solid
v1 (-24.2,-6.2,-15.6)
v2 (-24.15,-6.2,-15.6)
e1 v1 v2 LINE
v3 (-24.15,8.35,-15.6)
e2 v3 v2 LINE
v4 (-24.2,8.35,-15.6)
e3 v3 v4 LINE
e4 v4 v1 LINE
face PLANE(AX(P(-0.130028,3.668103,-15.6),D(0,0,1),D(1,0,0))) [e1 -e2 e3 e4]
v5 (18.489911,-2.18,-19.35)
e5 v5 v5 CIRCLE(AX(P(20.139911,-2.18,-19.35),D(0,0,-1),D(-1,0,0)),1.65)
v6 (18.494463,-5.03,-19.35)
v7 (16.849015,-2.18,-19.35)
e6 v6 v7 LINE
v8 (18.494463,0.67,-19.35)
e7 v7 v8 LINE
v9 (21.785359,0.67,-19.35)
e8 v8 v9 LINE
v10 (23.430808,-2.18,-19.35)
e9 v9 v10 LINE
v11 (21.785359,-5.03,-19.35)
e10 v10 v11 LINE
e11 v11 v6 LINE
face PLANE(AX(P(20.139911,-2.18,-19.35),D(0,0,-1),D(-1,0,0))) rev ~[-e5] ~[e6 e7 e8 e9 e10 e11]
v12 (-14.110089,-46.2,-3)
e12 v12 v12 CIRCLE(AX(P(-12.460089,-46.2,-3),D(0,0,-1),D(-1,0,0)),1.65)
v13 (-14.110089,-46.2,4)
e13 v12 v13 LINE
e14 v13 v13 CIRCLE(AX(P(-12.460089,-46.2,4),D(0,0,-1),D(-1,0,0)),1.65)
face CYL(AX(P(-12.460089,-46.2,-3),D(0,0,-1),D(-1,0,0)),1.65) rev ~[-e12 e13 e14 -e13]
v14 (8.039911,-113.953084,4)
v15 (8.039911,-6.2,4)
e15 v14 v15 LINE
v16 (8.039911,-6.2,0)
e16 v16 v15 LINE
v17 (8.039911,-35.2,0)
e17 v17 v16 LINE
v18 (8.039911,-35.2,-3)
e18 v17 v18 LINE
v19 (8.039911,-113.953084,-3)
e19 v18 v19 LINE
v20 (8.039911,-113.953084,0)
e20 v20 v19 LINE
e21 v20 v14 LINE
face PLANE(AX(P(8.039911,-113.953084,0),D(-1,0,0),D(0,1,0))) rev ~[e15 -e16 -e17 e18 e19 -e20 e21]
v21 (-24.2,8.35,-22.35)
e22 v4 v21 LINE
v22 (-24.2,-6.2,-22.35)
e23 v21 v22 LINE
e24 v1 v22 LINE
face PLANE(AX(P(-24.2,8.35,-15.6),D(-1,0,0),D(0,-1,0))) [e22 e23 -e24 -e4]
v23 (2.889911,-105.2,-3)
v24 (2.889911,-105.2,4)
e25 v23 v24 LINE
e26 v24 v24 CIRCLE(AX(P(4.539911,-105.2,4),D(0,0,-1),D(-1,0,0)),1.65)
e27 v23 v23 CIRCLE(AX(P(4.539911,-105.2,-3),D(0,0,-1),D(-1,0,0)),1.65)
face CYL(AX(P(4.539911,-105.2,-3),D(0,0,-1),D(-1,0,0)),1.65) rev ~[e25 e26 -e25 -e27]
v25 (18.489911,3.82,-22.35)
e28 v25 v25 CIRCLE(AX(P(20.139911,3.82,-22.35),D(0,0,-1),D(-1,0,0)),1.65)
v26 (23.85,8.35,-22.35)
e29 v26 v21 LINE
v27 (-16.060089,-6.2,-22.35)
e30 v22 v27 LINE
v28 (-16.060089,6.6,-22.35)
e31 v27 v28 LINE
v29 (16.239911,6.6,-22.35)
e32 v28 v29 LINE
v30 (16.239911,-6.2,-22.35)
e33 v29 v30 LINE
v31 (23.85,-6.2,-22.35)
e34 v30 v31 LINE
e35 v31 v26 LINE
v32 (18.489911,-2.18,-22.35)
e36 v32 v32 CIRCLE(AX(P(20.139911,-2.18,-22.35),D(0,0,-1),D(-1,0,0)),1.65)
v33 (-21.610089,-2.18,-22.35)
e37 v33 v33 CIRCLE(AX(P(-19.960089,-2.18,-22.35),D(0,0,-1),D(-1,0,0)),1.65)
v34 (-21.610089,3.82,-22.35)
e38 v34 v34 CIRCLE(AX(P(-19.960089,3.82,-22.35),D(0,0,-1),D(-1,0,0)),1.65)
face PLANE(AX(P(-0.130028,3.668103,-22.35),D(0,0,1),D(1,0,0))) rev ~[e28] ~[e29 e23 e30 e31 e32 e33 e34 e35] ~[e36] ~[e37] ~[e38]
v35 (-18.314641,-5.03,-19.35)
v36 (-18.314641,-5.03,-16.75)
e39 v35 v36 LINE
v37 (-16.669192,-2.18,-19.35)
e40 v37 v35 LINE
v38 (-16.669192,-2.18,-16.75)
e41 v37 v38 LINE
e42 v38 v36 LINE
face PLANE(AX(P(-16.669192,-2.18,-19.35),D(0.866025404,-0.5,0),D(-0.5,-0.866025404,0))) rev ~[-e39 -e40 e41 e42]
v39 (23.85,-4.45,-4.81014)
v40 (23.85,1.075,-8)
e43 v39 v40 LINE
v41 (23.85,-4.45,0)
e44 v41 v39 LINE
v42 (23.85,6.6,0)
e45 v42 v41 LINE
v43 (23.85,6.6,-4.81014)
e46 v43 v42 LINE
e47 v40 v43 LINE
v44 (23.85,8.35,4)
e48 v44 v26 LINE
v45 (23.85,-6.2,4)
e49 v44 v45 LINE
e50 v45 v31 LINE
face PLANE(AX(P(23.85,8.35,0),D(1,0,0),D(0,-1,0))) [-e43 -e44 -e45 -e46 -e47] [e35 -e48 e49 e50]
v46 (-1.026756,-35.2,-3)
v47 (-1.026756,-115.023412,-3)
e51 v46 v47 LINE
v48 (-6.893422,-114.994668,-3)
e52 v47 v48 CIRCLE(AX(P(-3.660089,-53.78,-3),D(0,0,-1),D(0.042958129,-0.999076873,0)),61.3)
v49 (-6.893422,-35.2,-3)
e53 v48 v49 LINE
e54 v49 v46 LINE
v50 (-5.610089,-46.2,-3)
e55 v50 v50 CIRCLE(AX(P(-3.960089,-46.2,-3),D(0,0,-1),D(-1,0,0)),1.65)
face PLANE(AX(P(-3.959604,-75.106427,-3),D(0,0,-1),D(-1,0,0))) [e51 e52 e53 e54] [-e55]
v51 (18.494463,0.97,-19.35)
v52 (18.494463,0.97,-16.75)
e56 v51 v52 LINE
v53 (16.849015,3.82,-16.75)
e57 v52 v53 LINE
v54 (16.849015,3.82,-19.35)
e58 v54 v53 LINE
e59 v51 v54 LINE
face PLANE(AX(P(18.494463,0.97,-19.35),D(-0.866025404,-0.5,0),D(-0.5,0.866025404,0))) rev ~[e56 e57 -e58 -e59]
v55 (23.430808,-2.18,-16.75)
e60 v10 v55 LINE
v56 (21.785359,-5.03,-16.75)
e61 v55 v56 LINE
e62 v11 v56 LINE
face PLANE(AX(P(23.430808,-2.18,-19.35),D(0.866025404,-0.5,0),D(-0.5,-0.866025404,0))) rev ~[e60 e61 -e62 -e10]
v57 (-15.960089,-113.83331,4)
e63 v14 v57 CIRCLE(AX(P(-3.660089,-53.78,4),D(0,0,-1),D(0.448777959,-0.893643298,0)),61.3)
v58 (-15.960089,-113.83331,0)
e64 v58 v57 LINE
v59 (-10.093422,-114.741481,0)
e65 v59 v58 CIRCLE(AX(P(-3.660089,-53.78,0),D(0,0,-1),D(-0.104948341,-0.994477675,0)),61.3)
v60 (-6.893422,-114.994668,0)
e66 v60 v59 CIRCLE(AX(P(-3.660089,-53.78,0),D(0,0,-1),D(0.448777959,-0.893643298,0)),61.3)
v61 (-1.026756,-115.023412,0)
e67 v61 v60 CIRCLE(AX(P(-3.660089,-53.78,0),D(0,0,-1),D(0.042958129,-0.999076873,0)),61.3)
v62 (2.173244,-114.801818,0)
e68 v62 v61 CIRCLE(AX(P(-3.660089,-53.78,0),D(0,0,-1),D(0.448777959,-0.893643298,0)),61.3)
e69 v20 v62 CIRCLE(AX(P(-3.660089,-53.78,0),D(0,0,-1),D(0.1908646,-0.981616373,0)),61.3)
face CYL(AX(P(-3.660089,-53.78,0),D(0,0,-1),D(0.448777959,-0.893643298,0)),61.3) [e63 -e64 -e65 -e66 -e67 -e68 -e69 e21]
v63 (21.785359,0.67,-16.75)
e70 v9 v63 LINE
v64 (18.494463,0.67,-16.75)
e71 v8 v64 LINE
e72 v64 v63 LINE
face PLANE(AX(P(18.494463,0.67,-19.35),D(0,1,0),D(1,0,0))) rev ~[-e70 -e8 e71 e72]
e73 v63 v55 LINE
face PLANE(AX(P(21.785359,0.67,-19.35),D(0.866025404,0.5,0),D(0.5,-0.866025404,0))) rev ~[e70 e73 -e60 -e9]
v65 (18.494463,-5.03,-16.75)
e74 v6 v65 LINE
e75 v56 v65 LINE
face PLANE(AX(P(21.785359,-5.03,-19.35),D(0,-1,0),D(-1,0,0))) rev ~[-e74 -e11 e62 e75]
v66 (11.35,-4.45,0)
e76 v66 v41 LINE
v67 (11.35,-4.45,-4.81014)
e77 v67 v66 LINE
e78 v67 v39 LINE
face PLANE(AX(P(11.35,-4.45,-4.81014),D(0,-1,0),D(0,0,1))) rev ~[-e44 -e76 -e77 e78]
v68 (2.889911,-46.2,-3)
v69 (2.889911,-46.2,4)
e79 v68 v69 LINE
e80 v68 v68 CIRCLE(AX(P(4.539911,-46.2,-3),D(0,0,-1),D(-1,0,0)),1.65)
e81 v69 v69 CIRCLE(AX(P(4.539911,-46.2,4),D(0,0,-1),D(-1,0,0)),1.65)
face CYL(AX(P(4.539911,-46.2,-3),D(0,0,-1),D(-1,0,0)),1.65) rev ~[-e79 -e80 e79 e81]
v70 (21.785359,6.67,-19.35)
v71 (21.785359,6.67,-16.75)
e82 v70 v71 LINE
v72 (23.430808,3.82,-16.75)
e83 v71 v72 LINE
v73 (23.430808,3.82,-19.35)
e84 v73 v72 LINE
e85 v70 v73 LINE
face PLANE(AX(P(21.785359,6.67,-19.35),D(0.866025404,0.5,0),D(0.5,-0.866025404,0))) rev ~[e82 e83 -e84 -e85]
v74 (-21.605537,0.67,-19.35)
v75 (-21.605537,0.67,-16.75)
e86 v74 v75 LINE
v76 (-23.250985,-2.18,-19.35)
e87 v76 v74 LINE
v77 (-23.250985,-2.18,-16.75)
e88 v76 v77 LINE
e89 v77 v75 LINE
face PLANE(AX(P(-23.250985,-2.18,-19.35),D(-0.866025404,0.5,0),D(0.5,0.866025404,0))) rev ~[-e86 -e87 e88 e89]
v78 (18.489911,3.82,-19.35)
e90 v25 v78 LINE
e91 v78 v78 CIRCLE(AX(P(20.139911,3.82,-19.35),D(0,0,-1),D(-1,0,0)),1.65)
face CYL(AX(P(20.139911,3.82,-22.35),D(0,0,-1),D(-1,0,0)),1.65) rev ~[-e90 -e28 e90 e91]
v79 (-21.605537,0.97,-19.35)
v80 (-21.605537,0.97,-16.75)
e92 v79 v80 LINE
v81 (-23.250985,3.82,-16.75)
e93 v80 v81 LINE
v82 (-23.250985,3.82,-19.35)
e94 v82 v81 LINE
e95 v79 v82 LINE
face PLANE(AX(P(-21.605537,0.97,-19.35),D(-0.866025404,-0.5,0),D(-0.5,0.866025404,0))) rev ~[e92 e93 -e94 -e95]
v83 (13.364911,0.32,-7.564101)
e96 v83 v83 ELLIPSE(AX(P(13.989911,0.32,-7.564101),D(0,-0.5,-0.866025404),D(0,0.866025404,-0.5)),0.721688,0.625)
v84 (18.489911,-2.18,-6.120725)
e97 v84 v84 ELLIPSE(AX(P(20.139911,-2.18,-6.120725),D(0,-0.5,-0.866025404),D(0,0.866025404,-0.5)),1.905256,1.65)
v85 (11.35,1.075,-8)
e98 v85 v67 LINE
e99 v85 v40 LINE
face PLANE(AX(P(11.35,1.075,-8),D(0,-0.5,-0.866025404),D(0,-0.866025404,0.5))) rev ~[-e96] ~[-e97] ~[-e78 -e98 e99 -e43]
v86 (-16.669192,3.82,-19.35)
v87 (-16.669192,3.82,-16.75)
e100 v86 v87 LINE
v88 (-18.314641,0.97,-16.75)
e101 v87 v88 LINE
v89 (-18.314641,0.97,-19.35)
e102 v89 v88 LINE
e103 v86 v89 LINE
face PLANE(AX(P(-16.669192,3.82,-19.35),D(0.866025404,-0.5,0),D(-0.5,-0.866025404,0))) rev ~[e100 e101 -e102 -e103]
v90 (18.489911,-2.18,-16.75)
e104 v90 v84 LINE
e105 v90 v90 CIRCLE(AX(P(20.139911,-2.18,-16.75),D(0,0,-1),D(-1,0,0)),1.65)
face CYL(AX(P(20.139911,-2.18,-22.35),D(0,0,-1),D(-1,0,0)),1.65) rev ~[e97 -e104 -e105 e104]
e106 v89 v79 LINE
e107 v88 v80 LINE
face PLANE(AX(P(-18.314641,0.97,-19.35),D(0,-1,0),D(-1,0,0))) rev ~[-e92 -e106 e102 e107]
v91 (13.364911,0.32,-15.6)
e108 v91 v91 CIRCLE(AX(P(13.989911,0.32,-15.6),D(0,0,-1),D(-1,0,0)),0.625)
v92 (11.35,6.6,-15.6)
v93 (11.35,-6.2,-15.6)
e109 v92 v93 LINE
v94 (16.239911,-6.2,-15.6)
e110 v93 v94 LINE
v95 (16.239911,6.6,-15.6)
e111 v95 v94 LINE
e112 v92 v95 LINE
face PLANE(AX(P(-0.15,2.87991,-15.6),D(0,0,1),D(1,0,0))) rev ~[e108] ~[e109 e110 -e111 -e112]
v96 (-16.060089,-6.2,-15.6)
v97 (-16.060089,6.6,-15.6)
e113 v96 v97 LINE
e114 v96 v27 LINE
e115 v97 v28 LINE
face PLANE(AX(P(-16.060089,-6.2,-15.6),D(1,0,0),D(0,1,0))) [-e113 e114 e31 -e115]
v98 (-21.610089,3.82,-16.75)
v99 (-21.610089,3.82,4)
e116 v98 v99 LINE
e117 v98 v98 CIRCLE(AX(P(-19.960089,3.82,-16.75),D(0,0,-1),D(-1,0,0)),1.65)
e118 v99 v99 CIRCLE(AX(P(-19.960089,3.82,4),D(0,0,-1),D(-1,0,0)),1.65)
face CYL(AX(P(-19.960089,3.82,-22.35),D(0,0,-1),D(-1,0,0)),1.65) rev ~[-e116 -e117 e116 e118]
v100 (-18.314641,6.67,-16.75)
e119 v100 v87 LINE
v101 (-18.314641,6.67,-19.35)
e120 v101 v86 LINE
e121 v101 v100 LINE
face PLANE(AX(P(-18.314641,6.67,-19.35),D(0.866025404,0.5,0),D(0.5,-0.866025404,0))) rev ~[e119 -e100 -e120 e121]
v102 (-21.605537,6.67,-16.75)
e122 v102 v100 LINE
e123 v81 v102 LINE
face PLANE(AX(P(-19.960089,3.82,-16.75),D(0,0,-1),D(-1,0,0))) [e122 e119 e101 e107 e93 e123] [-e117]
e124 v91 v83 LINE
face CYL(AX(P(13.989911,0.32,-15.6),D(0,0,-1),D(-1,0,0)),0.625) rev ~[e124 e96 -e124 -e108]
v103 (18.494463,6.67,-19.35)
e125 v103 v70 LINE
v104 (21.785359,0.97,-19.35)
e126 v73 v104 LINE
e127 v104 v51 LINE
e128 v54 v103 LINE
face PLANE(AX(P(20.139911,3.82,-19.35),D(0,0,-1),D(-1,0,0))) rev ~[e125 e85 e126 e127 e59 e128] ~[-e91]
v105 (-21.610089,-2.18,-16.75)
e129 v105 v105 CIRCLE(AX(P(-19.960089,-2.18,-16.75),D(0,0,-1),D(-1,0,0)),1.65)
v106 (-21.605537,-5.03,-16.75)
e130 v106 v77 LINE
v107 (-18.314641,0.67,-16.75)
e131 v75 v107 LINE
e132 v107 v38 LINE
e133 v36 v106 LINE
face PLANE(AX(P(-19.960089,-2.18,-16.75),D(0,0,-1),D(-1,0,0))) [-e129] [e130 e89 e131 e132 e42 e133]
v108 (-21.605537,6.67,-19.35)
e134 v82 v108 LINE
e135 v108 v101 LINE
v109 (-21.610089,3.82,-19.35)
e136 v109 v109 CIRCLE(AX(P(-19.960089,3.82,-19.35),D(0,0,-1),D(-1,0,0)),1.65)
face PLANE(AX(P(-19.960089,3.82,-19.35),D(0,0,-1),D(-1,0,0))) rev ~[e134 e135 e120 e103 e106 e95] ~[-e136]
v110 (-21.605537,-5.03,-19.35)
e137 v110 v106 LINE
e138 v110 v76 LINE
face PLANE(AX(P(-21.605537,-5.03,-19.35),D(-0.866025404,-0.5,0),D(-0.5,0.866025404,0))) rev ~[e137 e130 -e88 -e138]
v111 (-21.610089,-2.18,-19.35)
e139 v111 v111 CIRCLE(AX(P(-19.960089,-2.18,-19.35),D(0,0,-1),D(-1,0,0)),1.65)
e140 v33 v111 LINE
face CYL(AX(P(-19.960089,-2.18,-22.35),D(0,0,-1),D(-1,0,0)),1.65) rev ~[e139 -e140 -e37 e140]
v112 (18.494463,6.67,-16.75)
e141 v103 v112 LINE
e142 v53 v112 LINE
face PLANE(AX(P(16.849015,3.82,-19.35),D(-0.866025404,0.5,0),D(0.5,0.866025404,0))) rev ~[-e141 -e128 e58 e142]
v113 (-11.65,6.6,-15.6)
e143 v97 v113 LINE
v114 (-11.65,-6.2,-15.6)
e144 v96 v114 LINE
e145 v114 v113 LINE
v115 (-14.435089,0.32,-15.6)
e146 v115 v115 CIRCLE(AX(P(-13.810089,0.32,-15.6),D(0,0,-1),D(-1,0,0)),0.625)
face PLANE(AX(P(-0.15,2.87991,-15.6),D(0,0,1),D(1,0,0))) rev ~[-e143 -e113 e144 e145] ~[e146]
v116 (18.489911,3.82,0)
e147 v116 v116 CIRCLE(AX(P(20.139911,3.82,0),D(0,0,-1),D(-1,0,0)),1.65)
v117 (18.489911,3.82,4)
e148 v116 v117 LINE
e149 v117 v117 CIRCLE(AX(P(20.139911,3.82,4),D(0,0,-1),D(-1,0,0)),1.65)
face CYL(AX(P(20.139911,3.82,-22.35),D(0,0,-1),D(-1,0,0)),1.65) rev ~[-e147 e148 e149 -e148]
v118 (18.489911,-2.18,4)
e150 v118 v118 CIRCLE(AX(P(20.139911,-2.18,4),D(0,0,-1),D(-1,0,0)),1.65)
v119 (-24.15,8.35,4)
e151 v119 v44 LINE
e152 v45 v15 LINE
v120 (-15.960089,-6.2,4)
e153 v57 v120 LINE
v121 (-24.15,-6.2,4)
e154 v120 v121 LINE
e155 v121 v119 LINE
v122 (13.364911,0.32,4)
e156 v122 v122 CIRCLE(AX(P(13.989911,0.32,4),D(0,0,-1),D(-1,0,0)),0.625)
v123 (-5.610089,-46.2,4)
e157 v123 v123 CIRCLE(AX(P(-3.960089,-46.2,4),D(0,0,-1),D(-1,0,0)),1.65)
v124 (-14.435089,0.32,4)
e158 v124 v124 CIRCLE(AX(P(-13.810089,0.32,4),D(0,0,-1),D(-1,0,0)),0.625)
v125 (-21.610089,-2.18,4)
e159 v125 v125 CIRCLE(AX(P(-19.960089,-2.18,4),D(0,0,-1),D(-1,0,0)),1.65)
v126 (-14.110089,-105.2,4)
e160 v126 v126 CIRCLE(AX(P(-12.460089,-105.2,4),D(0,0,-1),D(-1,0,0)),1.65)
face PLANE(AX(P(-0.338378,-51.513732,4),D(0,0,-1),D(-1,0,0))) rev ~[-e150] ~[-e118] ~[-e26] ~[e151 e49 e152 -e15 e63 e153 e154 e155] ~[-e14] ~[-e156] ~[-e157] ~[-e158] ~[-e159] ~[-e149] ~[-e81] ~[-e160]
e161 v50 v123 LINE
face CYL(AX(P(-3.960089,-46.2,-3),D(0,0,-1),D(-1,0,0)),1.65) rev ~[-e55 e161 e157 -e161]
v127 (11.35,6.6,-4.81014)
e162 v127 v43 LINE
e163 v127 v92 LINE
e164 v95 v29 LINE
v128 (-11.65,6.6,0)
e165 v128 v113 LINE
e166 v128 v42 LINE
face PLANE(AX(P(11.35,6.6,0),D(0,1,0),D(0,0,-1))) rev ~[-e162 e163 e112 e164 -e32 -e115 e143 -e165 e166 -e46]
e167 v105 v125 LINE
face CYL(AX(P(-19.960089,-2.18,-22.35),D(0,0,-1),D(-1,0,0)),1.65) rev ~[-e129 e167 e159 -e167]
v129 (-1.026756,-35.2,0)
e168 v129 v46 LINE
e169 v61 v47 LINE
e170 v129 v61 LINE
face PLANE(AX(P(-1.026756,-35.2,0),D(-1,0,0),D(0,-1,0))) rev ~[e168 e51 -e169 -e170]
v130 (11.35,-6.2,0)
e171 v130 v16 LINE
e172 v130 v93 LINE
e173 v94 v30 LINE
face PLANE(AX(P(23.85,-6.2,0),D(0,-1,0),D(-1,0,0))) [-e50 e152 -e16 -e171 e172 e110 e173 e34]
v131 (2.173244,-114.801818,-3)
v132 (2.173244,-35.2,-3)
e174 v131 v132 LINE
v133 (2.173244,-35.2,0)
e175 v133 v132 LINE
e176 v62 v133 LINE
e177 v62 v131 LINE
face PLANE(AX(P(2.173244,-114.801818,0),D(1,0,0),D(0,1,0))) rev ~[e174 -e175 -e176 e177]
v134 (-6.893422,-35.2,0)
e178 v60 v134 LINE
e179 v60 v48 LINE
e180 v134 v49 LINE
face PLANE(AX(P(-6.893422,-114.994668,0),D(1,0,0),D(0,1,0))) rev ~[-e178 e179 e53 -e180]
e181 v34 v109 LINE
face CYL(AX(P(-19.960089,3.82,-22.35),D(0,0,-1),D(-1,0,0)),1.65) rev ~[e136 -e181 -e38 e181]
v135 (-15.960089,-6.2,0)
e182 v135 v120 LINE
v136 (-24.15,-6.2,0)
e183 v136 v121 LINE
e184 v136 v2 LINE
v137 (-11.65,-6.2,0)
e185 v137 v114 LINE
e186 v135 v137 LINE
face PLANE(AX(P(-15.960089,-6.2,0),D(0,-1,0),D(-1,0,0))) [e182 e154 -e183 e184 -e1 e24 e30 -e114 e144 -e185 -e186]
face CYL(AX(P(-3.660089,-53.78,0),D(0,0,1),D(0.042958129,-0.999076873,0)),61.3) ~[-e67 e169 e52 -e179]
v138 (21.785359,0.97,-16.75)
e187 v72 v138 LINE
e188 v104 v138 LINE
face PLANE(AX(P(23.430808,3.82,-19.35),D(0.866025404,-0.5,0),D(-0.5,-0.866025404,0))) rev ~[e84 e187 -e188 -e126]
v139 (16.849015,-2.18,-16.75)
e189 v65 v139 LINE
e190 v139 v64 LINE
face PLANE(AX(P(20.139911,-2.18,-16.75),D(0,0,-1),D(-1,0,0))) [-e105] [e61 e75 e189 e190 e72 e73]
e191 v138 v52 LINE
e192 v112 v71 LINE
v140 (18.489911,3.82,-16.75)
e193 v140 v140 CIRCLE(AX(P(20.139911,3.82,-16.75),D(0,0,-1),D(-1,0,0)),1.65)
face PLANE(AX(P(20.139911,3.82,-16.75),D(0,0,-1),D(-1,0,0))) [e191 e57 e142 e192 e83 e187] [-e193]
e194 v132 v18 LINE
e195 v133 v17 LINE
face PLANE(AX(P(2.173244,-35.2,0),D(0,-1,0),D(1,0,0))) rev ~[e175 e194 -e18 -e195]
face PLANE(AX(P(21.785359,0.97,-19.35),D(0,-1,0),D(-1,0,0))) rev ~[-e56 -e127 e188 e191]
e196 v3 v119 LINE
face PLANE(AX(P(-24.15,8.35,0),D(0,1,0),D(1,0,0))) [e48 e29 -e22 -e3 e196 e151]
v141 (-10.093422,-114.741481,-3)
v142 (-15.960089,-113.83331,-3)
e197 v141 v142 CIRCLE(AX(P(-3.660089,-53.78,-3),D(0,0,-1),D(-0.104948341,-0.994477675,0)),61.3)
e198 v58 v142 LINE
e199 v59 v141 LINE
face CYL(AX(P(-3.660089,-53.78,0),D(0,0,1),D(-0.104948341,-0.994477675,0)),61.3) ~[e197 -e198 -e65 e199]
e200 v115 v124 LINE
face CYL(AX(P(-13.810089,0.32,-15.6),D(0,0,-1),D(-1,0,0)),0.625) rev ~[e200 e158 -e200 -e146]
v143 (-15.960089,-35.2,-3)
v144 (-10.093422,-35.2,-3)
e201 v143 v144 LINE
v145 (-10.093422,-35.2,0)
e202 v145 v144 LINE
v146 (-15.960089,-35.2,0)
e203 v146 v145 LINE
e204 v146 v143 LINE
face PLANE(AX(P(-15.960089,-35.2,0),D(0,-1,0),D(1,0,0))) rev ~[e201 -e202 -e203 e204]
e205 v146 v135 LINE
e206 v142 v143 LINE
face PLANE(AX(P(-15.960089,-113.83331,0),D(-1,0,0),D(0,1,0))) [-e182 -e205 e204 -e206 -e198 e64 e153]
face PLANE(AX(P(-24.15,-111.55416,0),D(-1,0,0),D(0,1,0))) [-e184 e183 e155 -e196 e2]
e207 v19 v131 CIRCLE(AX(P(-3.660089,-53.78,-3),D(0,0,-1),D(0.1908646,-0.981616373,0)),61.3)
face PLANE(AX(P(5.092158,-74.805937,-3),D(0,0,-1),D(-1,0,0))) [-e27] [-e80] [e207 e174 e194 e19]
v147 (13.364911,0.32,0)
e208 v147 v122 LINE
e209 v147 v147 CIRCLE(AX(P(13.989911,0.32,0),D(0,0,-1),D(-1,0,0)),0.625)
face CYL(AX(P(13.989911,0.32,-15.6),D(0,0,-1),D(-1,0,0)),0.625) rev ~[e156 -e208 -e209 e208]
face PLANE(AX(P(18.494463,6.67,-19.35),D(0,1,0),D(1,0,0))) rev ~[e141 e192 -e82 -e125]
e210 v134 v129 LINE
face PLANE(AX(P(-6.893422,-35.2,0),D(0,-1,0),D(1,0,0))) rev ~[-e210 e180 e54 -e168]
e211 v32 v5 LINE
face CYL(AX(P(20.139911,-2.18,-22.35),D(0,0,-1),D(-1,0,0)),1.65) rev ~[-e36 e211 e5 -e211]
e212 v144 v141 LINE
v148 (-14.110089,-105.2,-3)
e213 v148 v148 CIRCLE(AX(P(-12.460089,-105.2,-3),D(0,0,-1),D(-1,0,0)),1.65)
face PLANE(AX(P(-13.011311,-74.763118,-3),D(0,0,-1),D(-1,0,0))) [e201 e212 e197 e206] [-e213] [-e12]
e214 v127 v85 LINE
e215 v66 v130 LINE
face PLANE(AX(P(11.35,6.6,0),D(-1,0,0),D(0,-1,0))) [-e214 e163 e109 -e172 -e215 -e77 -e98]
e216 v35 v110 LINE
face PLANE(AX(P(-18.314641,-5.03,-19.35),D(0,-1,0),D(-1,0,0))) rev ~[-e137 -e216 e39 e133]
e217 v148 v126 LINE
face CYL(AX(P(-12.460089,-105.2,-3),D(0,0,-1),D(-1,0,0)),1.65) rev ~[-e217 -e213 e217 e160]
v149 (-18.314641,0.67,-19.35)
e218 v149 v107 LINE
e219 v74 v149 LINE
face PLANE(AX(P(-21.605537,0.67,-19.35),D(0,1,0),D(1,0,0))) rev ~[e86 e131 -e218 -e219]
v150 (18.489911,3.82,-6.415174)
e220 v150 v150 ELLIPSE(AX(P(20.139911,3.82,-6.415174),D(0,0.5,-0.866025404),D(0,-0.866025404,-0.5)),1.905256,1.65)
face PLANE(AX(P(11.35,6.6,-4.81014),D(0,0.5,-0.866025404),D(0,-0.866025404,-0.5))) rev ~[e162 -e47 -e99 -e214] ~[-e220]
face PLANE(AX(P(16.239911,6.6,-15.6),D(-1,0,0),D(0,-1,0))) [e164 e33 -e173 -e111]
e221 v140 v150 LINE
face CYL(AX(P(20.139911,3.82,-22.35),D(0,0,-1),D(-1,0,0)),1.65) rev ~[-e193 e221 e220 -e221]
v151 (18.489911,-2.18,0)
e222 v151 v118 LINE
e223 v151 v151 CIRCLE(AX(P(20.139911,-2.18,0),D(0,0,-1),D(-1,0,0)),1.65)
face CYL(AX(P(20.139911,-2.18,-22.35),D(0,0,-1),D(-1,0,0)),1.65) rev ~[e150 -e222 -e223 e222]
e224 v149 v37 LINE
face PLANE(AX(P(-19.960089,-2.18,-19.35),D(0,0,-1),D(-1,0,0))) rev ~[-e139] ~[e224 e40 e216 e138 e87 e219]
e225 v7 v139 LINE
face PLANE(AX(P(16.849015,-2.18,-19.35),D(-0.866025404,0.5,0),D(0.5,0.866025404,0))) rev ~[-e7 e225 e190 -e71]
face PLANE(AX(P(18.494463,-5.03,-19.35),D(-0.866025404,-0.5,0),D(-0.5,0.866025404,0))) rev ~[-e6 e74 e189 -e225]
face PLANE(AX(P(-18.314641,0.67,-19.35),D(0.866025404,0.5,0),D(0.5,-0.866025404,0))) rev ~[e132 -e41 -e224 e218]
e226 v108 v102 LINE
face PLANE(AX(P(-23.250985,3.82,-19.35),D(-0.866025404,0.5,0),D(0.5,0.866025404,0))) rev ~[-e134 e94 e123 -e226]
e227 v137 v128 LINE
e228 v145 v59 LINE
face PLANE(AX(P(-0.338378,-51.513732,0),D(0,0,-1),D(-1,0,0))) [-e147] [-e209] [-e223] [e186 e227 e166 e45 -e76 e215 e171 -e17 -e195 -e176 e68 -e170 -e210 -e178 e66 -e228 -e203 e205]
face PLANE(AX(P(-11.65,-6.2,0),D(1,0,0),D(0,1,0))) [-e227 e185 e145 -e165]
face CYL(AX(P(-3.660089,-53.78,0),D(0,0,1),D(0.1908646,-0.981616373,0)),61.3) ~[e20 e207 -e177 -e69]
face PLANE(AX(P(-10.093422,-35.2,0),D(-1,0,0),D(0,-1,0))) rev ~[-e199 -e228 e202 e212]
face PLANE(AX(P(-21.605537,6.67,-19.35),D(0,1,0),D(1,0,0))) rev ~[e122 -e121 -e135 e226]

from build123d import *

# Parameters (mm, degrees)
BOSS_EXTRUDE1_DEPTH = 15.6
BOSS_EXTRUDE2_DEPTH = 6.75
BOSS_EXTRUDE3_DEPTH = 4
BOSS_EXTRUDE4_DEPTH = 3
SKETCH5_R           = 1.65
CUT_EXTRUDE1_DEPTH  = 8
SKETCH6_R           = 1.65
CUT_EXTRUDE2_DEPTH  = 27.35
CUT_EXTRUDE3_START  = -3
CUT_EXTRUDE3_DEPTH  = 2.6
CUT_EXTRUDE4_DEPTH  = 20
SKETCH9_W           = 15.8100889
SKETCH9_H           = 107.753083684
SKETCH9_W_2         = 8.2399111
SKETCH9_H_2         = 107.633309651
CUT_EXTRUDE5_DEPTH  = 10
SKETCH10_R          = 0.625
CUT_EXTRUDE6_DEPTH  = 30


with BuildPart() as part:
    # Sketch1 → Boss-Extrude1 (new body)
    with BuildSketch(Plane.XY):
        Polygon((-11.65, 6.6), (11.35, 6.6), (11.35, -6.2), (23.85, -6.2), (23.85, 8.35), (-24.15, 8.35), (-24.15, -6.2), (-11.65, -6.2), align=None)
    extrude(amount=-BOSS_EXTRUDE1_DEPTH)

    # Sketch2 → Boss-Extrude2 (add)
    with BuildSketch(Plane(origin=(0, 0, -15.6), x_dir=(-1, 0, 0), z_dir=(0, 0, -1))):
        Polygon((-16.2399111, -6.2), (-23.85, -6.2), (-23.85, 8.35), (24.2, 8.35), (24.2, -6.2), (16.0600889, -6.2), (16.0600889, 6.6), (-16.2399111, 6.6), align=None)
    extrude(amount=BOSS_EXTRUDE2_DEPTH)

    # Sketch3 → Boss-Extrude3 (add)
    with BuildSketch(Plane.XY):
        with BuildLine():
            Line((-24.15, 8.35), (23.85, 8.35))
            Line((23.85, 8.35), (23.85, 1.000334142))
            Line((23.85, 1.000334142), (23.85, -108.560334142))
            ThreePointArc((23.85, -108.560334142), (0.155860803, -114.961112509), (-24.15, -111.554159822))
            Line((-24.15, -111.554159822), (-24.15, 3.741161814))
            Line((-24.15, 3.741161814), (-24.15, 8.35))
        make_face()
    extrude(amount=BOSS_EXTRUDE3_DEPTH)

    # Sketch4 → Boss-Extrude4 (add)
    with BuildSketch(Plane(origin=(0, 0, 0), x_dir=(-1, 0, 0), z_dir=(0, 0, -1))):
        with BuildLine():
            ThreePointArc((10.093422233, -114.741481463), (13.037755905, -114.358456249), (15.9600889, -113.833309651))
            Line((15.9600889, -113.833309651), (15.9600889, -35.2))
            Line((15.9600889, -35.2), (10.093422233, -35.2))
            Line((10.093422233, -35.2), (10.093422233, -114.741481463))
        make_face()
        with BuildLine():
            ThreePointArc((1.026755567, -115.023412344), (3.960432973, -115.079264216), (6.893422233, -114.994667814))
            Line((6.893422233, -114.994667814), (6.893422233, -35.2))
            Line((6.893422233, -35.2), (1.026755567, -35.2))
            Line((1.026755567, -35.2), (1.026755567, -115.023412344))
        make_face()
        with BuildLine():
            ThreePointArc((-8.0399111, -113.953083684), (-5.116842896, -114.448405849), (-2.173244433, -114.801817592))
            Line((-2.173244433, -114.801817592), (-2.173244433, -35.2))
            Line((-2.173244433, -35.2), (-8.0399111, -35.2))
            Line((-8.0399111, -35.2), (-8.0399111, -113.953083684))
        make_face()
    extrude(amount=BOSS_EXTRUDE4_DEPTH)

    # Sketch5 → Cut-Extrude1 (cut, through all)
    with BuildSketch(Plane(origin=(0, 0, -3), x_dir=(-1, 0, 0), z_dir=(0, 0, -1))):
        with Locations((3.9600889, -46.2)):
            Circle(SKETCH5_R)
        with Locations((12.4600889, -46.2)):
            Circle(SKETCH5_R)
        with Locations((-4.5399111, -46.2)):
            Circle(SKETCH5_R)
        with Locations((12.4600889, -105.2)):
            Circle(SKETCH5_R)
        with Locations((-4.5399111, -105.2)):
            Circle(SKETCH5_R)
    extrude(amount=-CUT_EXTRUDE1_DEPTH, mode=Mode.SUBTRACT)

    # Sketch6 → Cut-Extrude2 (cut, through all)
    with BuildSketch(Plane(origin=(0, 0, -22.35), x_dir=(-1, 0, 0), z_dir=(0, 0, -1))):
        with Locations((-20.1399111, -2.18)):
            Circle(SKETCH6_R)
        with Locations((-20.1399111, 3.82)):
            Circle(SKETCH6_R)
        with Locations((19.9600889, -2.18)):
            Circle(SKETCH6_R)
        with Locations((19.9600889, 3.82)):
            Circle(SKETCH6_R)
    extrude(amount=-CUT_EXTRUDE2_DEPTH, mode=Mode.SUBTRACT)

    # Sketch7 → Cut-Extrude3 (cut)
    with BuildSketch(Plane(origin=(0, 0, -22.35), x_dir=(-1, 0, 0), z_dir=(0, 0, -1)).offset(CUT_EXTRUDE3_START)):
        Polygon((18.314640633, 0.67), (16.669192365, -2.18), (18.314640633, -5.03), (21.605537167, -5.03), (23.250985434, -2.18), (21.605537167, 0.67), align=None)
        Polygon((21.605537167, 6.67), (18.314640633, 6.67), (16.669192365, 3.82), (18.314640633, 0.97), (21.605537167, 0.97), (23.250985434, 3.82), align=None)
        Polygon((-21.785359367, 6.67), (-23.430807635, 3.82), (-21.785359367, 0.97), (-18.494462833, 0.97), (-16.849014566, 3.82), (-18.494462833, 6.67), align=None)
        Polygon((-21.785359367, 0.67), (-23.430807635, -2.18), (-21.785359367, -5.03), (-18.494462833, -5.03), (-16.849014566, -2.18), (-18.494462833, 0.67), align=None)
    extrude(amount=-CUT_EXTRUDE3_DEPTH, mode=Mode.SUBTRACT)

    # Sketch8 → Cut-Extrude4 (cut)
    with BuildSketch(Plane.ZY.offset(-11.35)):
        Polygon((0, 6.6), (-4.810139763, 6.6), (-8, 1.075), (-4.810139763, -4.45), (0, -4.45), align=None)
    extrude(amount=-CUT_EXTRUDE4_DEPTH, mode=Mode.SUBTRACT)

    # Sketch9 → Cut-Extrude5 (cut)
    with BuildSketch(Plane(origin=(0, 0, 0), x_dir=(-1, 0, 0), z_dir=(0, 0, -1))):
        with Locations((-15.94495555, -60.076541842)):
            Rectangle(SKETCH9_W, SKETCH9_H)
        with Locations((20.08004445, -60.016654826)):
            Rectangle(SKETCH9_W_2, SKETCH9_H_2)
    extrude(amount=-CUT_EXTRUDE5_DEPTH, mode=Mode.SUBTRACT)

    # Sketch10 → Cut-Extrude6 (cut)
    with BuildSketch(Plane(origin=(0, 0, -15.6), x_dir=(-1, 0, 0), z_dir=(0, 0, -1))):
        with Locations((13.8100889, 0.32)):
            Circle(SKETCH10_R)
        with Locations((-13.9899111, 0.32)):
            Circle(SKETCH10_R)
    extrude(amount=-CUT_EXTRUDE6_DEPTH, mode=Mode.SUBTRACT)


solid = part.part
